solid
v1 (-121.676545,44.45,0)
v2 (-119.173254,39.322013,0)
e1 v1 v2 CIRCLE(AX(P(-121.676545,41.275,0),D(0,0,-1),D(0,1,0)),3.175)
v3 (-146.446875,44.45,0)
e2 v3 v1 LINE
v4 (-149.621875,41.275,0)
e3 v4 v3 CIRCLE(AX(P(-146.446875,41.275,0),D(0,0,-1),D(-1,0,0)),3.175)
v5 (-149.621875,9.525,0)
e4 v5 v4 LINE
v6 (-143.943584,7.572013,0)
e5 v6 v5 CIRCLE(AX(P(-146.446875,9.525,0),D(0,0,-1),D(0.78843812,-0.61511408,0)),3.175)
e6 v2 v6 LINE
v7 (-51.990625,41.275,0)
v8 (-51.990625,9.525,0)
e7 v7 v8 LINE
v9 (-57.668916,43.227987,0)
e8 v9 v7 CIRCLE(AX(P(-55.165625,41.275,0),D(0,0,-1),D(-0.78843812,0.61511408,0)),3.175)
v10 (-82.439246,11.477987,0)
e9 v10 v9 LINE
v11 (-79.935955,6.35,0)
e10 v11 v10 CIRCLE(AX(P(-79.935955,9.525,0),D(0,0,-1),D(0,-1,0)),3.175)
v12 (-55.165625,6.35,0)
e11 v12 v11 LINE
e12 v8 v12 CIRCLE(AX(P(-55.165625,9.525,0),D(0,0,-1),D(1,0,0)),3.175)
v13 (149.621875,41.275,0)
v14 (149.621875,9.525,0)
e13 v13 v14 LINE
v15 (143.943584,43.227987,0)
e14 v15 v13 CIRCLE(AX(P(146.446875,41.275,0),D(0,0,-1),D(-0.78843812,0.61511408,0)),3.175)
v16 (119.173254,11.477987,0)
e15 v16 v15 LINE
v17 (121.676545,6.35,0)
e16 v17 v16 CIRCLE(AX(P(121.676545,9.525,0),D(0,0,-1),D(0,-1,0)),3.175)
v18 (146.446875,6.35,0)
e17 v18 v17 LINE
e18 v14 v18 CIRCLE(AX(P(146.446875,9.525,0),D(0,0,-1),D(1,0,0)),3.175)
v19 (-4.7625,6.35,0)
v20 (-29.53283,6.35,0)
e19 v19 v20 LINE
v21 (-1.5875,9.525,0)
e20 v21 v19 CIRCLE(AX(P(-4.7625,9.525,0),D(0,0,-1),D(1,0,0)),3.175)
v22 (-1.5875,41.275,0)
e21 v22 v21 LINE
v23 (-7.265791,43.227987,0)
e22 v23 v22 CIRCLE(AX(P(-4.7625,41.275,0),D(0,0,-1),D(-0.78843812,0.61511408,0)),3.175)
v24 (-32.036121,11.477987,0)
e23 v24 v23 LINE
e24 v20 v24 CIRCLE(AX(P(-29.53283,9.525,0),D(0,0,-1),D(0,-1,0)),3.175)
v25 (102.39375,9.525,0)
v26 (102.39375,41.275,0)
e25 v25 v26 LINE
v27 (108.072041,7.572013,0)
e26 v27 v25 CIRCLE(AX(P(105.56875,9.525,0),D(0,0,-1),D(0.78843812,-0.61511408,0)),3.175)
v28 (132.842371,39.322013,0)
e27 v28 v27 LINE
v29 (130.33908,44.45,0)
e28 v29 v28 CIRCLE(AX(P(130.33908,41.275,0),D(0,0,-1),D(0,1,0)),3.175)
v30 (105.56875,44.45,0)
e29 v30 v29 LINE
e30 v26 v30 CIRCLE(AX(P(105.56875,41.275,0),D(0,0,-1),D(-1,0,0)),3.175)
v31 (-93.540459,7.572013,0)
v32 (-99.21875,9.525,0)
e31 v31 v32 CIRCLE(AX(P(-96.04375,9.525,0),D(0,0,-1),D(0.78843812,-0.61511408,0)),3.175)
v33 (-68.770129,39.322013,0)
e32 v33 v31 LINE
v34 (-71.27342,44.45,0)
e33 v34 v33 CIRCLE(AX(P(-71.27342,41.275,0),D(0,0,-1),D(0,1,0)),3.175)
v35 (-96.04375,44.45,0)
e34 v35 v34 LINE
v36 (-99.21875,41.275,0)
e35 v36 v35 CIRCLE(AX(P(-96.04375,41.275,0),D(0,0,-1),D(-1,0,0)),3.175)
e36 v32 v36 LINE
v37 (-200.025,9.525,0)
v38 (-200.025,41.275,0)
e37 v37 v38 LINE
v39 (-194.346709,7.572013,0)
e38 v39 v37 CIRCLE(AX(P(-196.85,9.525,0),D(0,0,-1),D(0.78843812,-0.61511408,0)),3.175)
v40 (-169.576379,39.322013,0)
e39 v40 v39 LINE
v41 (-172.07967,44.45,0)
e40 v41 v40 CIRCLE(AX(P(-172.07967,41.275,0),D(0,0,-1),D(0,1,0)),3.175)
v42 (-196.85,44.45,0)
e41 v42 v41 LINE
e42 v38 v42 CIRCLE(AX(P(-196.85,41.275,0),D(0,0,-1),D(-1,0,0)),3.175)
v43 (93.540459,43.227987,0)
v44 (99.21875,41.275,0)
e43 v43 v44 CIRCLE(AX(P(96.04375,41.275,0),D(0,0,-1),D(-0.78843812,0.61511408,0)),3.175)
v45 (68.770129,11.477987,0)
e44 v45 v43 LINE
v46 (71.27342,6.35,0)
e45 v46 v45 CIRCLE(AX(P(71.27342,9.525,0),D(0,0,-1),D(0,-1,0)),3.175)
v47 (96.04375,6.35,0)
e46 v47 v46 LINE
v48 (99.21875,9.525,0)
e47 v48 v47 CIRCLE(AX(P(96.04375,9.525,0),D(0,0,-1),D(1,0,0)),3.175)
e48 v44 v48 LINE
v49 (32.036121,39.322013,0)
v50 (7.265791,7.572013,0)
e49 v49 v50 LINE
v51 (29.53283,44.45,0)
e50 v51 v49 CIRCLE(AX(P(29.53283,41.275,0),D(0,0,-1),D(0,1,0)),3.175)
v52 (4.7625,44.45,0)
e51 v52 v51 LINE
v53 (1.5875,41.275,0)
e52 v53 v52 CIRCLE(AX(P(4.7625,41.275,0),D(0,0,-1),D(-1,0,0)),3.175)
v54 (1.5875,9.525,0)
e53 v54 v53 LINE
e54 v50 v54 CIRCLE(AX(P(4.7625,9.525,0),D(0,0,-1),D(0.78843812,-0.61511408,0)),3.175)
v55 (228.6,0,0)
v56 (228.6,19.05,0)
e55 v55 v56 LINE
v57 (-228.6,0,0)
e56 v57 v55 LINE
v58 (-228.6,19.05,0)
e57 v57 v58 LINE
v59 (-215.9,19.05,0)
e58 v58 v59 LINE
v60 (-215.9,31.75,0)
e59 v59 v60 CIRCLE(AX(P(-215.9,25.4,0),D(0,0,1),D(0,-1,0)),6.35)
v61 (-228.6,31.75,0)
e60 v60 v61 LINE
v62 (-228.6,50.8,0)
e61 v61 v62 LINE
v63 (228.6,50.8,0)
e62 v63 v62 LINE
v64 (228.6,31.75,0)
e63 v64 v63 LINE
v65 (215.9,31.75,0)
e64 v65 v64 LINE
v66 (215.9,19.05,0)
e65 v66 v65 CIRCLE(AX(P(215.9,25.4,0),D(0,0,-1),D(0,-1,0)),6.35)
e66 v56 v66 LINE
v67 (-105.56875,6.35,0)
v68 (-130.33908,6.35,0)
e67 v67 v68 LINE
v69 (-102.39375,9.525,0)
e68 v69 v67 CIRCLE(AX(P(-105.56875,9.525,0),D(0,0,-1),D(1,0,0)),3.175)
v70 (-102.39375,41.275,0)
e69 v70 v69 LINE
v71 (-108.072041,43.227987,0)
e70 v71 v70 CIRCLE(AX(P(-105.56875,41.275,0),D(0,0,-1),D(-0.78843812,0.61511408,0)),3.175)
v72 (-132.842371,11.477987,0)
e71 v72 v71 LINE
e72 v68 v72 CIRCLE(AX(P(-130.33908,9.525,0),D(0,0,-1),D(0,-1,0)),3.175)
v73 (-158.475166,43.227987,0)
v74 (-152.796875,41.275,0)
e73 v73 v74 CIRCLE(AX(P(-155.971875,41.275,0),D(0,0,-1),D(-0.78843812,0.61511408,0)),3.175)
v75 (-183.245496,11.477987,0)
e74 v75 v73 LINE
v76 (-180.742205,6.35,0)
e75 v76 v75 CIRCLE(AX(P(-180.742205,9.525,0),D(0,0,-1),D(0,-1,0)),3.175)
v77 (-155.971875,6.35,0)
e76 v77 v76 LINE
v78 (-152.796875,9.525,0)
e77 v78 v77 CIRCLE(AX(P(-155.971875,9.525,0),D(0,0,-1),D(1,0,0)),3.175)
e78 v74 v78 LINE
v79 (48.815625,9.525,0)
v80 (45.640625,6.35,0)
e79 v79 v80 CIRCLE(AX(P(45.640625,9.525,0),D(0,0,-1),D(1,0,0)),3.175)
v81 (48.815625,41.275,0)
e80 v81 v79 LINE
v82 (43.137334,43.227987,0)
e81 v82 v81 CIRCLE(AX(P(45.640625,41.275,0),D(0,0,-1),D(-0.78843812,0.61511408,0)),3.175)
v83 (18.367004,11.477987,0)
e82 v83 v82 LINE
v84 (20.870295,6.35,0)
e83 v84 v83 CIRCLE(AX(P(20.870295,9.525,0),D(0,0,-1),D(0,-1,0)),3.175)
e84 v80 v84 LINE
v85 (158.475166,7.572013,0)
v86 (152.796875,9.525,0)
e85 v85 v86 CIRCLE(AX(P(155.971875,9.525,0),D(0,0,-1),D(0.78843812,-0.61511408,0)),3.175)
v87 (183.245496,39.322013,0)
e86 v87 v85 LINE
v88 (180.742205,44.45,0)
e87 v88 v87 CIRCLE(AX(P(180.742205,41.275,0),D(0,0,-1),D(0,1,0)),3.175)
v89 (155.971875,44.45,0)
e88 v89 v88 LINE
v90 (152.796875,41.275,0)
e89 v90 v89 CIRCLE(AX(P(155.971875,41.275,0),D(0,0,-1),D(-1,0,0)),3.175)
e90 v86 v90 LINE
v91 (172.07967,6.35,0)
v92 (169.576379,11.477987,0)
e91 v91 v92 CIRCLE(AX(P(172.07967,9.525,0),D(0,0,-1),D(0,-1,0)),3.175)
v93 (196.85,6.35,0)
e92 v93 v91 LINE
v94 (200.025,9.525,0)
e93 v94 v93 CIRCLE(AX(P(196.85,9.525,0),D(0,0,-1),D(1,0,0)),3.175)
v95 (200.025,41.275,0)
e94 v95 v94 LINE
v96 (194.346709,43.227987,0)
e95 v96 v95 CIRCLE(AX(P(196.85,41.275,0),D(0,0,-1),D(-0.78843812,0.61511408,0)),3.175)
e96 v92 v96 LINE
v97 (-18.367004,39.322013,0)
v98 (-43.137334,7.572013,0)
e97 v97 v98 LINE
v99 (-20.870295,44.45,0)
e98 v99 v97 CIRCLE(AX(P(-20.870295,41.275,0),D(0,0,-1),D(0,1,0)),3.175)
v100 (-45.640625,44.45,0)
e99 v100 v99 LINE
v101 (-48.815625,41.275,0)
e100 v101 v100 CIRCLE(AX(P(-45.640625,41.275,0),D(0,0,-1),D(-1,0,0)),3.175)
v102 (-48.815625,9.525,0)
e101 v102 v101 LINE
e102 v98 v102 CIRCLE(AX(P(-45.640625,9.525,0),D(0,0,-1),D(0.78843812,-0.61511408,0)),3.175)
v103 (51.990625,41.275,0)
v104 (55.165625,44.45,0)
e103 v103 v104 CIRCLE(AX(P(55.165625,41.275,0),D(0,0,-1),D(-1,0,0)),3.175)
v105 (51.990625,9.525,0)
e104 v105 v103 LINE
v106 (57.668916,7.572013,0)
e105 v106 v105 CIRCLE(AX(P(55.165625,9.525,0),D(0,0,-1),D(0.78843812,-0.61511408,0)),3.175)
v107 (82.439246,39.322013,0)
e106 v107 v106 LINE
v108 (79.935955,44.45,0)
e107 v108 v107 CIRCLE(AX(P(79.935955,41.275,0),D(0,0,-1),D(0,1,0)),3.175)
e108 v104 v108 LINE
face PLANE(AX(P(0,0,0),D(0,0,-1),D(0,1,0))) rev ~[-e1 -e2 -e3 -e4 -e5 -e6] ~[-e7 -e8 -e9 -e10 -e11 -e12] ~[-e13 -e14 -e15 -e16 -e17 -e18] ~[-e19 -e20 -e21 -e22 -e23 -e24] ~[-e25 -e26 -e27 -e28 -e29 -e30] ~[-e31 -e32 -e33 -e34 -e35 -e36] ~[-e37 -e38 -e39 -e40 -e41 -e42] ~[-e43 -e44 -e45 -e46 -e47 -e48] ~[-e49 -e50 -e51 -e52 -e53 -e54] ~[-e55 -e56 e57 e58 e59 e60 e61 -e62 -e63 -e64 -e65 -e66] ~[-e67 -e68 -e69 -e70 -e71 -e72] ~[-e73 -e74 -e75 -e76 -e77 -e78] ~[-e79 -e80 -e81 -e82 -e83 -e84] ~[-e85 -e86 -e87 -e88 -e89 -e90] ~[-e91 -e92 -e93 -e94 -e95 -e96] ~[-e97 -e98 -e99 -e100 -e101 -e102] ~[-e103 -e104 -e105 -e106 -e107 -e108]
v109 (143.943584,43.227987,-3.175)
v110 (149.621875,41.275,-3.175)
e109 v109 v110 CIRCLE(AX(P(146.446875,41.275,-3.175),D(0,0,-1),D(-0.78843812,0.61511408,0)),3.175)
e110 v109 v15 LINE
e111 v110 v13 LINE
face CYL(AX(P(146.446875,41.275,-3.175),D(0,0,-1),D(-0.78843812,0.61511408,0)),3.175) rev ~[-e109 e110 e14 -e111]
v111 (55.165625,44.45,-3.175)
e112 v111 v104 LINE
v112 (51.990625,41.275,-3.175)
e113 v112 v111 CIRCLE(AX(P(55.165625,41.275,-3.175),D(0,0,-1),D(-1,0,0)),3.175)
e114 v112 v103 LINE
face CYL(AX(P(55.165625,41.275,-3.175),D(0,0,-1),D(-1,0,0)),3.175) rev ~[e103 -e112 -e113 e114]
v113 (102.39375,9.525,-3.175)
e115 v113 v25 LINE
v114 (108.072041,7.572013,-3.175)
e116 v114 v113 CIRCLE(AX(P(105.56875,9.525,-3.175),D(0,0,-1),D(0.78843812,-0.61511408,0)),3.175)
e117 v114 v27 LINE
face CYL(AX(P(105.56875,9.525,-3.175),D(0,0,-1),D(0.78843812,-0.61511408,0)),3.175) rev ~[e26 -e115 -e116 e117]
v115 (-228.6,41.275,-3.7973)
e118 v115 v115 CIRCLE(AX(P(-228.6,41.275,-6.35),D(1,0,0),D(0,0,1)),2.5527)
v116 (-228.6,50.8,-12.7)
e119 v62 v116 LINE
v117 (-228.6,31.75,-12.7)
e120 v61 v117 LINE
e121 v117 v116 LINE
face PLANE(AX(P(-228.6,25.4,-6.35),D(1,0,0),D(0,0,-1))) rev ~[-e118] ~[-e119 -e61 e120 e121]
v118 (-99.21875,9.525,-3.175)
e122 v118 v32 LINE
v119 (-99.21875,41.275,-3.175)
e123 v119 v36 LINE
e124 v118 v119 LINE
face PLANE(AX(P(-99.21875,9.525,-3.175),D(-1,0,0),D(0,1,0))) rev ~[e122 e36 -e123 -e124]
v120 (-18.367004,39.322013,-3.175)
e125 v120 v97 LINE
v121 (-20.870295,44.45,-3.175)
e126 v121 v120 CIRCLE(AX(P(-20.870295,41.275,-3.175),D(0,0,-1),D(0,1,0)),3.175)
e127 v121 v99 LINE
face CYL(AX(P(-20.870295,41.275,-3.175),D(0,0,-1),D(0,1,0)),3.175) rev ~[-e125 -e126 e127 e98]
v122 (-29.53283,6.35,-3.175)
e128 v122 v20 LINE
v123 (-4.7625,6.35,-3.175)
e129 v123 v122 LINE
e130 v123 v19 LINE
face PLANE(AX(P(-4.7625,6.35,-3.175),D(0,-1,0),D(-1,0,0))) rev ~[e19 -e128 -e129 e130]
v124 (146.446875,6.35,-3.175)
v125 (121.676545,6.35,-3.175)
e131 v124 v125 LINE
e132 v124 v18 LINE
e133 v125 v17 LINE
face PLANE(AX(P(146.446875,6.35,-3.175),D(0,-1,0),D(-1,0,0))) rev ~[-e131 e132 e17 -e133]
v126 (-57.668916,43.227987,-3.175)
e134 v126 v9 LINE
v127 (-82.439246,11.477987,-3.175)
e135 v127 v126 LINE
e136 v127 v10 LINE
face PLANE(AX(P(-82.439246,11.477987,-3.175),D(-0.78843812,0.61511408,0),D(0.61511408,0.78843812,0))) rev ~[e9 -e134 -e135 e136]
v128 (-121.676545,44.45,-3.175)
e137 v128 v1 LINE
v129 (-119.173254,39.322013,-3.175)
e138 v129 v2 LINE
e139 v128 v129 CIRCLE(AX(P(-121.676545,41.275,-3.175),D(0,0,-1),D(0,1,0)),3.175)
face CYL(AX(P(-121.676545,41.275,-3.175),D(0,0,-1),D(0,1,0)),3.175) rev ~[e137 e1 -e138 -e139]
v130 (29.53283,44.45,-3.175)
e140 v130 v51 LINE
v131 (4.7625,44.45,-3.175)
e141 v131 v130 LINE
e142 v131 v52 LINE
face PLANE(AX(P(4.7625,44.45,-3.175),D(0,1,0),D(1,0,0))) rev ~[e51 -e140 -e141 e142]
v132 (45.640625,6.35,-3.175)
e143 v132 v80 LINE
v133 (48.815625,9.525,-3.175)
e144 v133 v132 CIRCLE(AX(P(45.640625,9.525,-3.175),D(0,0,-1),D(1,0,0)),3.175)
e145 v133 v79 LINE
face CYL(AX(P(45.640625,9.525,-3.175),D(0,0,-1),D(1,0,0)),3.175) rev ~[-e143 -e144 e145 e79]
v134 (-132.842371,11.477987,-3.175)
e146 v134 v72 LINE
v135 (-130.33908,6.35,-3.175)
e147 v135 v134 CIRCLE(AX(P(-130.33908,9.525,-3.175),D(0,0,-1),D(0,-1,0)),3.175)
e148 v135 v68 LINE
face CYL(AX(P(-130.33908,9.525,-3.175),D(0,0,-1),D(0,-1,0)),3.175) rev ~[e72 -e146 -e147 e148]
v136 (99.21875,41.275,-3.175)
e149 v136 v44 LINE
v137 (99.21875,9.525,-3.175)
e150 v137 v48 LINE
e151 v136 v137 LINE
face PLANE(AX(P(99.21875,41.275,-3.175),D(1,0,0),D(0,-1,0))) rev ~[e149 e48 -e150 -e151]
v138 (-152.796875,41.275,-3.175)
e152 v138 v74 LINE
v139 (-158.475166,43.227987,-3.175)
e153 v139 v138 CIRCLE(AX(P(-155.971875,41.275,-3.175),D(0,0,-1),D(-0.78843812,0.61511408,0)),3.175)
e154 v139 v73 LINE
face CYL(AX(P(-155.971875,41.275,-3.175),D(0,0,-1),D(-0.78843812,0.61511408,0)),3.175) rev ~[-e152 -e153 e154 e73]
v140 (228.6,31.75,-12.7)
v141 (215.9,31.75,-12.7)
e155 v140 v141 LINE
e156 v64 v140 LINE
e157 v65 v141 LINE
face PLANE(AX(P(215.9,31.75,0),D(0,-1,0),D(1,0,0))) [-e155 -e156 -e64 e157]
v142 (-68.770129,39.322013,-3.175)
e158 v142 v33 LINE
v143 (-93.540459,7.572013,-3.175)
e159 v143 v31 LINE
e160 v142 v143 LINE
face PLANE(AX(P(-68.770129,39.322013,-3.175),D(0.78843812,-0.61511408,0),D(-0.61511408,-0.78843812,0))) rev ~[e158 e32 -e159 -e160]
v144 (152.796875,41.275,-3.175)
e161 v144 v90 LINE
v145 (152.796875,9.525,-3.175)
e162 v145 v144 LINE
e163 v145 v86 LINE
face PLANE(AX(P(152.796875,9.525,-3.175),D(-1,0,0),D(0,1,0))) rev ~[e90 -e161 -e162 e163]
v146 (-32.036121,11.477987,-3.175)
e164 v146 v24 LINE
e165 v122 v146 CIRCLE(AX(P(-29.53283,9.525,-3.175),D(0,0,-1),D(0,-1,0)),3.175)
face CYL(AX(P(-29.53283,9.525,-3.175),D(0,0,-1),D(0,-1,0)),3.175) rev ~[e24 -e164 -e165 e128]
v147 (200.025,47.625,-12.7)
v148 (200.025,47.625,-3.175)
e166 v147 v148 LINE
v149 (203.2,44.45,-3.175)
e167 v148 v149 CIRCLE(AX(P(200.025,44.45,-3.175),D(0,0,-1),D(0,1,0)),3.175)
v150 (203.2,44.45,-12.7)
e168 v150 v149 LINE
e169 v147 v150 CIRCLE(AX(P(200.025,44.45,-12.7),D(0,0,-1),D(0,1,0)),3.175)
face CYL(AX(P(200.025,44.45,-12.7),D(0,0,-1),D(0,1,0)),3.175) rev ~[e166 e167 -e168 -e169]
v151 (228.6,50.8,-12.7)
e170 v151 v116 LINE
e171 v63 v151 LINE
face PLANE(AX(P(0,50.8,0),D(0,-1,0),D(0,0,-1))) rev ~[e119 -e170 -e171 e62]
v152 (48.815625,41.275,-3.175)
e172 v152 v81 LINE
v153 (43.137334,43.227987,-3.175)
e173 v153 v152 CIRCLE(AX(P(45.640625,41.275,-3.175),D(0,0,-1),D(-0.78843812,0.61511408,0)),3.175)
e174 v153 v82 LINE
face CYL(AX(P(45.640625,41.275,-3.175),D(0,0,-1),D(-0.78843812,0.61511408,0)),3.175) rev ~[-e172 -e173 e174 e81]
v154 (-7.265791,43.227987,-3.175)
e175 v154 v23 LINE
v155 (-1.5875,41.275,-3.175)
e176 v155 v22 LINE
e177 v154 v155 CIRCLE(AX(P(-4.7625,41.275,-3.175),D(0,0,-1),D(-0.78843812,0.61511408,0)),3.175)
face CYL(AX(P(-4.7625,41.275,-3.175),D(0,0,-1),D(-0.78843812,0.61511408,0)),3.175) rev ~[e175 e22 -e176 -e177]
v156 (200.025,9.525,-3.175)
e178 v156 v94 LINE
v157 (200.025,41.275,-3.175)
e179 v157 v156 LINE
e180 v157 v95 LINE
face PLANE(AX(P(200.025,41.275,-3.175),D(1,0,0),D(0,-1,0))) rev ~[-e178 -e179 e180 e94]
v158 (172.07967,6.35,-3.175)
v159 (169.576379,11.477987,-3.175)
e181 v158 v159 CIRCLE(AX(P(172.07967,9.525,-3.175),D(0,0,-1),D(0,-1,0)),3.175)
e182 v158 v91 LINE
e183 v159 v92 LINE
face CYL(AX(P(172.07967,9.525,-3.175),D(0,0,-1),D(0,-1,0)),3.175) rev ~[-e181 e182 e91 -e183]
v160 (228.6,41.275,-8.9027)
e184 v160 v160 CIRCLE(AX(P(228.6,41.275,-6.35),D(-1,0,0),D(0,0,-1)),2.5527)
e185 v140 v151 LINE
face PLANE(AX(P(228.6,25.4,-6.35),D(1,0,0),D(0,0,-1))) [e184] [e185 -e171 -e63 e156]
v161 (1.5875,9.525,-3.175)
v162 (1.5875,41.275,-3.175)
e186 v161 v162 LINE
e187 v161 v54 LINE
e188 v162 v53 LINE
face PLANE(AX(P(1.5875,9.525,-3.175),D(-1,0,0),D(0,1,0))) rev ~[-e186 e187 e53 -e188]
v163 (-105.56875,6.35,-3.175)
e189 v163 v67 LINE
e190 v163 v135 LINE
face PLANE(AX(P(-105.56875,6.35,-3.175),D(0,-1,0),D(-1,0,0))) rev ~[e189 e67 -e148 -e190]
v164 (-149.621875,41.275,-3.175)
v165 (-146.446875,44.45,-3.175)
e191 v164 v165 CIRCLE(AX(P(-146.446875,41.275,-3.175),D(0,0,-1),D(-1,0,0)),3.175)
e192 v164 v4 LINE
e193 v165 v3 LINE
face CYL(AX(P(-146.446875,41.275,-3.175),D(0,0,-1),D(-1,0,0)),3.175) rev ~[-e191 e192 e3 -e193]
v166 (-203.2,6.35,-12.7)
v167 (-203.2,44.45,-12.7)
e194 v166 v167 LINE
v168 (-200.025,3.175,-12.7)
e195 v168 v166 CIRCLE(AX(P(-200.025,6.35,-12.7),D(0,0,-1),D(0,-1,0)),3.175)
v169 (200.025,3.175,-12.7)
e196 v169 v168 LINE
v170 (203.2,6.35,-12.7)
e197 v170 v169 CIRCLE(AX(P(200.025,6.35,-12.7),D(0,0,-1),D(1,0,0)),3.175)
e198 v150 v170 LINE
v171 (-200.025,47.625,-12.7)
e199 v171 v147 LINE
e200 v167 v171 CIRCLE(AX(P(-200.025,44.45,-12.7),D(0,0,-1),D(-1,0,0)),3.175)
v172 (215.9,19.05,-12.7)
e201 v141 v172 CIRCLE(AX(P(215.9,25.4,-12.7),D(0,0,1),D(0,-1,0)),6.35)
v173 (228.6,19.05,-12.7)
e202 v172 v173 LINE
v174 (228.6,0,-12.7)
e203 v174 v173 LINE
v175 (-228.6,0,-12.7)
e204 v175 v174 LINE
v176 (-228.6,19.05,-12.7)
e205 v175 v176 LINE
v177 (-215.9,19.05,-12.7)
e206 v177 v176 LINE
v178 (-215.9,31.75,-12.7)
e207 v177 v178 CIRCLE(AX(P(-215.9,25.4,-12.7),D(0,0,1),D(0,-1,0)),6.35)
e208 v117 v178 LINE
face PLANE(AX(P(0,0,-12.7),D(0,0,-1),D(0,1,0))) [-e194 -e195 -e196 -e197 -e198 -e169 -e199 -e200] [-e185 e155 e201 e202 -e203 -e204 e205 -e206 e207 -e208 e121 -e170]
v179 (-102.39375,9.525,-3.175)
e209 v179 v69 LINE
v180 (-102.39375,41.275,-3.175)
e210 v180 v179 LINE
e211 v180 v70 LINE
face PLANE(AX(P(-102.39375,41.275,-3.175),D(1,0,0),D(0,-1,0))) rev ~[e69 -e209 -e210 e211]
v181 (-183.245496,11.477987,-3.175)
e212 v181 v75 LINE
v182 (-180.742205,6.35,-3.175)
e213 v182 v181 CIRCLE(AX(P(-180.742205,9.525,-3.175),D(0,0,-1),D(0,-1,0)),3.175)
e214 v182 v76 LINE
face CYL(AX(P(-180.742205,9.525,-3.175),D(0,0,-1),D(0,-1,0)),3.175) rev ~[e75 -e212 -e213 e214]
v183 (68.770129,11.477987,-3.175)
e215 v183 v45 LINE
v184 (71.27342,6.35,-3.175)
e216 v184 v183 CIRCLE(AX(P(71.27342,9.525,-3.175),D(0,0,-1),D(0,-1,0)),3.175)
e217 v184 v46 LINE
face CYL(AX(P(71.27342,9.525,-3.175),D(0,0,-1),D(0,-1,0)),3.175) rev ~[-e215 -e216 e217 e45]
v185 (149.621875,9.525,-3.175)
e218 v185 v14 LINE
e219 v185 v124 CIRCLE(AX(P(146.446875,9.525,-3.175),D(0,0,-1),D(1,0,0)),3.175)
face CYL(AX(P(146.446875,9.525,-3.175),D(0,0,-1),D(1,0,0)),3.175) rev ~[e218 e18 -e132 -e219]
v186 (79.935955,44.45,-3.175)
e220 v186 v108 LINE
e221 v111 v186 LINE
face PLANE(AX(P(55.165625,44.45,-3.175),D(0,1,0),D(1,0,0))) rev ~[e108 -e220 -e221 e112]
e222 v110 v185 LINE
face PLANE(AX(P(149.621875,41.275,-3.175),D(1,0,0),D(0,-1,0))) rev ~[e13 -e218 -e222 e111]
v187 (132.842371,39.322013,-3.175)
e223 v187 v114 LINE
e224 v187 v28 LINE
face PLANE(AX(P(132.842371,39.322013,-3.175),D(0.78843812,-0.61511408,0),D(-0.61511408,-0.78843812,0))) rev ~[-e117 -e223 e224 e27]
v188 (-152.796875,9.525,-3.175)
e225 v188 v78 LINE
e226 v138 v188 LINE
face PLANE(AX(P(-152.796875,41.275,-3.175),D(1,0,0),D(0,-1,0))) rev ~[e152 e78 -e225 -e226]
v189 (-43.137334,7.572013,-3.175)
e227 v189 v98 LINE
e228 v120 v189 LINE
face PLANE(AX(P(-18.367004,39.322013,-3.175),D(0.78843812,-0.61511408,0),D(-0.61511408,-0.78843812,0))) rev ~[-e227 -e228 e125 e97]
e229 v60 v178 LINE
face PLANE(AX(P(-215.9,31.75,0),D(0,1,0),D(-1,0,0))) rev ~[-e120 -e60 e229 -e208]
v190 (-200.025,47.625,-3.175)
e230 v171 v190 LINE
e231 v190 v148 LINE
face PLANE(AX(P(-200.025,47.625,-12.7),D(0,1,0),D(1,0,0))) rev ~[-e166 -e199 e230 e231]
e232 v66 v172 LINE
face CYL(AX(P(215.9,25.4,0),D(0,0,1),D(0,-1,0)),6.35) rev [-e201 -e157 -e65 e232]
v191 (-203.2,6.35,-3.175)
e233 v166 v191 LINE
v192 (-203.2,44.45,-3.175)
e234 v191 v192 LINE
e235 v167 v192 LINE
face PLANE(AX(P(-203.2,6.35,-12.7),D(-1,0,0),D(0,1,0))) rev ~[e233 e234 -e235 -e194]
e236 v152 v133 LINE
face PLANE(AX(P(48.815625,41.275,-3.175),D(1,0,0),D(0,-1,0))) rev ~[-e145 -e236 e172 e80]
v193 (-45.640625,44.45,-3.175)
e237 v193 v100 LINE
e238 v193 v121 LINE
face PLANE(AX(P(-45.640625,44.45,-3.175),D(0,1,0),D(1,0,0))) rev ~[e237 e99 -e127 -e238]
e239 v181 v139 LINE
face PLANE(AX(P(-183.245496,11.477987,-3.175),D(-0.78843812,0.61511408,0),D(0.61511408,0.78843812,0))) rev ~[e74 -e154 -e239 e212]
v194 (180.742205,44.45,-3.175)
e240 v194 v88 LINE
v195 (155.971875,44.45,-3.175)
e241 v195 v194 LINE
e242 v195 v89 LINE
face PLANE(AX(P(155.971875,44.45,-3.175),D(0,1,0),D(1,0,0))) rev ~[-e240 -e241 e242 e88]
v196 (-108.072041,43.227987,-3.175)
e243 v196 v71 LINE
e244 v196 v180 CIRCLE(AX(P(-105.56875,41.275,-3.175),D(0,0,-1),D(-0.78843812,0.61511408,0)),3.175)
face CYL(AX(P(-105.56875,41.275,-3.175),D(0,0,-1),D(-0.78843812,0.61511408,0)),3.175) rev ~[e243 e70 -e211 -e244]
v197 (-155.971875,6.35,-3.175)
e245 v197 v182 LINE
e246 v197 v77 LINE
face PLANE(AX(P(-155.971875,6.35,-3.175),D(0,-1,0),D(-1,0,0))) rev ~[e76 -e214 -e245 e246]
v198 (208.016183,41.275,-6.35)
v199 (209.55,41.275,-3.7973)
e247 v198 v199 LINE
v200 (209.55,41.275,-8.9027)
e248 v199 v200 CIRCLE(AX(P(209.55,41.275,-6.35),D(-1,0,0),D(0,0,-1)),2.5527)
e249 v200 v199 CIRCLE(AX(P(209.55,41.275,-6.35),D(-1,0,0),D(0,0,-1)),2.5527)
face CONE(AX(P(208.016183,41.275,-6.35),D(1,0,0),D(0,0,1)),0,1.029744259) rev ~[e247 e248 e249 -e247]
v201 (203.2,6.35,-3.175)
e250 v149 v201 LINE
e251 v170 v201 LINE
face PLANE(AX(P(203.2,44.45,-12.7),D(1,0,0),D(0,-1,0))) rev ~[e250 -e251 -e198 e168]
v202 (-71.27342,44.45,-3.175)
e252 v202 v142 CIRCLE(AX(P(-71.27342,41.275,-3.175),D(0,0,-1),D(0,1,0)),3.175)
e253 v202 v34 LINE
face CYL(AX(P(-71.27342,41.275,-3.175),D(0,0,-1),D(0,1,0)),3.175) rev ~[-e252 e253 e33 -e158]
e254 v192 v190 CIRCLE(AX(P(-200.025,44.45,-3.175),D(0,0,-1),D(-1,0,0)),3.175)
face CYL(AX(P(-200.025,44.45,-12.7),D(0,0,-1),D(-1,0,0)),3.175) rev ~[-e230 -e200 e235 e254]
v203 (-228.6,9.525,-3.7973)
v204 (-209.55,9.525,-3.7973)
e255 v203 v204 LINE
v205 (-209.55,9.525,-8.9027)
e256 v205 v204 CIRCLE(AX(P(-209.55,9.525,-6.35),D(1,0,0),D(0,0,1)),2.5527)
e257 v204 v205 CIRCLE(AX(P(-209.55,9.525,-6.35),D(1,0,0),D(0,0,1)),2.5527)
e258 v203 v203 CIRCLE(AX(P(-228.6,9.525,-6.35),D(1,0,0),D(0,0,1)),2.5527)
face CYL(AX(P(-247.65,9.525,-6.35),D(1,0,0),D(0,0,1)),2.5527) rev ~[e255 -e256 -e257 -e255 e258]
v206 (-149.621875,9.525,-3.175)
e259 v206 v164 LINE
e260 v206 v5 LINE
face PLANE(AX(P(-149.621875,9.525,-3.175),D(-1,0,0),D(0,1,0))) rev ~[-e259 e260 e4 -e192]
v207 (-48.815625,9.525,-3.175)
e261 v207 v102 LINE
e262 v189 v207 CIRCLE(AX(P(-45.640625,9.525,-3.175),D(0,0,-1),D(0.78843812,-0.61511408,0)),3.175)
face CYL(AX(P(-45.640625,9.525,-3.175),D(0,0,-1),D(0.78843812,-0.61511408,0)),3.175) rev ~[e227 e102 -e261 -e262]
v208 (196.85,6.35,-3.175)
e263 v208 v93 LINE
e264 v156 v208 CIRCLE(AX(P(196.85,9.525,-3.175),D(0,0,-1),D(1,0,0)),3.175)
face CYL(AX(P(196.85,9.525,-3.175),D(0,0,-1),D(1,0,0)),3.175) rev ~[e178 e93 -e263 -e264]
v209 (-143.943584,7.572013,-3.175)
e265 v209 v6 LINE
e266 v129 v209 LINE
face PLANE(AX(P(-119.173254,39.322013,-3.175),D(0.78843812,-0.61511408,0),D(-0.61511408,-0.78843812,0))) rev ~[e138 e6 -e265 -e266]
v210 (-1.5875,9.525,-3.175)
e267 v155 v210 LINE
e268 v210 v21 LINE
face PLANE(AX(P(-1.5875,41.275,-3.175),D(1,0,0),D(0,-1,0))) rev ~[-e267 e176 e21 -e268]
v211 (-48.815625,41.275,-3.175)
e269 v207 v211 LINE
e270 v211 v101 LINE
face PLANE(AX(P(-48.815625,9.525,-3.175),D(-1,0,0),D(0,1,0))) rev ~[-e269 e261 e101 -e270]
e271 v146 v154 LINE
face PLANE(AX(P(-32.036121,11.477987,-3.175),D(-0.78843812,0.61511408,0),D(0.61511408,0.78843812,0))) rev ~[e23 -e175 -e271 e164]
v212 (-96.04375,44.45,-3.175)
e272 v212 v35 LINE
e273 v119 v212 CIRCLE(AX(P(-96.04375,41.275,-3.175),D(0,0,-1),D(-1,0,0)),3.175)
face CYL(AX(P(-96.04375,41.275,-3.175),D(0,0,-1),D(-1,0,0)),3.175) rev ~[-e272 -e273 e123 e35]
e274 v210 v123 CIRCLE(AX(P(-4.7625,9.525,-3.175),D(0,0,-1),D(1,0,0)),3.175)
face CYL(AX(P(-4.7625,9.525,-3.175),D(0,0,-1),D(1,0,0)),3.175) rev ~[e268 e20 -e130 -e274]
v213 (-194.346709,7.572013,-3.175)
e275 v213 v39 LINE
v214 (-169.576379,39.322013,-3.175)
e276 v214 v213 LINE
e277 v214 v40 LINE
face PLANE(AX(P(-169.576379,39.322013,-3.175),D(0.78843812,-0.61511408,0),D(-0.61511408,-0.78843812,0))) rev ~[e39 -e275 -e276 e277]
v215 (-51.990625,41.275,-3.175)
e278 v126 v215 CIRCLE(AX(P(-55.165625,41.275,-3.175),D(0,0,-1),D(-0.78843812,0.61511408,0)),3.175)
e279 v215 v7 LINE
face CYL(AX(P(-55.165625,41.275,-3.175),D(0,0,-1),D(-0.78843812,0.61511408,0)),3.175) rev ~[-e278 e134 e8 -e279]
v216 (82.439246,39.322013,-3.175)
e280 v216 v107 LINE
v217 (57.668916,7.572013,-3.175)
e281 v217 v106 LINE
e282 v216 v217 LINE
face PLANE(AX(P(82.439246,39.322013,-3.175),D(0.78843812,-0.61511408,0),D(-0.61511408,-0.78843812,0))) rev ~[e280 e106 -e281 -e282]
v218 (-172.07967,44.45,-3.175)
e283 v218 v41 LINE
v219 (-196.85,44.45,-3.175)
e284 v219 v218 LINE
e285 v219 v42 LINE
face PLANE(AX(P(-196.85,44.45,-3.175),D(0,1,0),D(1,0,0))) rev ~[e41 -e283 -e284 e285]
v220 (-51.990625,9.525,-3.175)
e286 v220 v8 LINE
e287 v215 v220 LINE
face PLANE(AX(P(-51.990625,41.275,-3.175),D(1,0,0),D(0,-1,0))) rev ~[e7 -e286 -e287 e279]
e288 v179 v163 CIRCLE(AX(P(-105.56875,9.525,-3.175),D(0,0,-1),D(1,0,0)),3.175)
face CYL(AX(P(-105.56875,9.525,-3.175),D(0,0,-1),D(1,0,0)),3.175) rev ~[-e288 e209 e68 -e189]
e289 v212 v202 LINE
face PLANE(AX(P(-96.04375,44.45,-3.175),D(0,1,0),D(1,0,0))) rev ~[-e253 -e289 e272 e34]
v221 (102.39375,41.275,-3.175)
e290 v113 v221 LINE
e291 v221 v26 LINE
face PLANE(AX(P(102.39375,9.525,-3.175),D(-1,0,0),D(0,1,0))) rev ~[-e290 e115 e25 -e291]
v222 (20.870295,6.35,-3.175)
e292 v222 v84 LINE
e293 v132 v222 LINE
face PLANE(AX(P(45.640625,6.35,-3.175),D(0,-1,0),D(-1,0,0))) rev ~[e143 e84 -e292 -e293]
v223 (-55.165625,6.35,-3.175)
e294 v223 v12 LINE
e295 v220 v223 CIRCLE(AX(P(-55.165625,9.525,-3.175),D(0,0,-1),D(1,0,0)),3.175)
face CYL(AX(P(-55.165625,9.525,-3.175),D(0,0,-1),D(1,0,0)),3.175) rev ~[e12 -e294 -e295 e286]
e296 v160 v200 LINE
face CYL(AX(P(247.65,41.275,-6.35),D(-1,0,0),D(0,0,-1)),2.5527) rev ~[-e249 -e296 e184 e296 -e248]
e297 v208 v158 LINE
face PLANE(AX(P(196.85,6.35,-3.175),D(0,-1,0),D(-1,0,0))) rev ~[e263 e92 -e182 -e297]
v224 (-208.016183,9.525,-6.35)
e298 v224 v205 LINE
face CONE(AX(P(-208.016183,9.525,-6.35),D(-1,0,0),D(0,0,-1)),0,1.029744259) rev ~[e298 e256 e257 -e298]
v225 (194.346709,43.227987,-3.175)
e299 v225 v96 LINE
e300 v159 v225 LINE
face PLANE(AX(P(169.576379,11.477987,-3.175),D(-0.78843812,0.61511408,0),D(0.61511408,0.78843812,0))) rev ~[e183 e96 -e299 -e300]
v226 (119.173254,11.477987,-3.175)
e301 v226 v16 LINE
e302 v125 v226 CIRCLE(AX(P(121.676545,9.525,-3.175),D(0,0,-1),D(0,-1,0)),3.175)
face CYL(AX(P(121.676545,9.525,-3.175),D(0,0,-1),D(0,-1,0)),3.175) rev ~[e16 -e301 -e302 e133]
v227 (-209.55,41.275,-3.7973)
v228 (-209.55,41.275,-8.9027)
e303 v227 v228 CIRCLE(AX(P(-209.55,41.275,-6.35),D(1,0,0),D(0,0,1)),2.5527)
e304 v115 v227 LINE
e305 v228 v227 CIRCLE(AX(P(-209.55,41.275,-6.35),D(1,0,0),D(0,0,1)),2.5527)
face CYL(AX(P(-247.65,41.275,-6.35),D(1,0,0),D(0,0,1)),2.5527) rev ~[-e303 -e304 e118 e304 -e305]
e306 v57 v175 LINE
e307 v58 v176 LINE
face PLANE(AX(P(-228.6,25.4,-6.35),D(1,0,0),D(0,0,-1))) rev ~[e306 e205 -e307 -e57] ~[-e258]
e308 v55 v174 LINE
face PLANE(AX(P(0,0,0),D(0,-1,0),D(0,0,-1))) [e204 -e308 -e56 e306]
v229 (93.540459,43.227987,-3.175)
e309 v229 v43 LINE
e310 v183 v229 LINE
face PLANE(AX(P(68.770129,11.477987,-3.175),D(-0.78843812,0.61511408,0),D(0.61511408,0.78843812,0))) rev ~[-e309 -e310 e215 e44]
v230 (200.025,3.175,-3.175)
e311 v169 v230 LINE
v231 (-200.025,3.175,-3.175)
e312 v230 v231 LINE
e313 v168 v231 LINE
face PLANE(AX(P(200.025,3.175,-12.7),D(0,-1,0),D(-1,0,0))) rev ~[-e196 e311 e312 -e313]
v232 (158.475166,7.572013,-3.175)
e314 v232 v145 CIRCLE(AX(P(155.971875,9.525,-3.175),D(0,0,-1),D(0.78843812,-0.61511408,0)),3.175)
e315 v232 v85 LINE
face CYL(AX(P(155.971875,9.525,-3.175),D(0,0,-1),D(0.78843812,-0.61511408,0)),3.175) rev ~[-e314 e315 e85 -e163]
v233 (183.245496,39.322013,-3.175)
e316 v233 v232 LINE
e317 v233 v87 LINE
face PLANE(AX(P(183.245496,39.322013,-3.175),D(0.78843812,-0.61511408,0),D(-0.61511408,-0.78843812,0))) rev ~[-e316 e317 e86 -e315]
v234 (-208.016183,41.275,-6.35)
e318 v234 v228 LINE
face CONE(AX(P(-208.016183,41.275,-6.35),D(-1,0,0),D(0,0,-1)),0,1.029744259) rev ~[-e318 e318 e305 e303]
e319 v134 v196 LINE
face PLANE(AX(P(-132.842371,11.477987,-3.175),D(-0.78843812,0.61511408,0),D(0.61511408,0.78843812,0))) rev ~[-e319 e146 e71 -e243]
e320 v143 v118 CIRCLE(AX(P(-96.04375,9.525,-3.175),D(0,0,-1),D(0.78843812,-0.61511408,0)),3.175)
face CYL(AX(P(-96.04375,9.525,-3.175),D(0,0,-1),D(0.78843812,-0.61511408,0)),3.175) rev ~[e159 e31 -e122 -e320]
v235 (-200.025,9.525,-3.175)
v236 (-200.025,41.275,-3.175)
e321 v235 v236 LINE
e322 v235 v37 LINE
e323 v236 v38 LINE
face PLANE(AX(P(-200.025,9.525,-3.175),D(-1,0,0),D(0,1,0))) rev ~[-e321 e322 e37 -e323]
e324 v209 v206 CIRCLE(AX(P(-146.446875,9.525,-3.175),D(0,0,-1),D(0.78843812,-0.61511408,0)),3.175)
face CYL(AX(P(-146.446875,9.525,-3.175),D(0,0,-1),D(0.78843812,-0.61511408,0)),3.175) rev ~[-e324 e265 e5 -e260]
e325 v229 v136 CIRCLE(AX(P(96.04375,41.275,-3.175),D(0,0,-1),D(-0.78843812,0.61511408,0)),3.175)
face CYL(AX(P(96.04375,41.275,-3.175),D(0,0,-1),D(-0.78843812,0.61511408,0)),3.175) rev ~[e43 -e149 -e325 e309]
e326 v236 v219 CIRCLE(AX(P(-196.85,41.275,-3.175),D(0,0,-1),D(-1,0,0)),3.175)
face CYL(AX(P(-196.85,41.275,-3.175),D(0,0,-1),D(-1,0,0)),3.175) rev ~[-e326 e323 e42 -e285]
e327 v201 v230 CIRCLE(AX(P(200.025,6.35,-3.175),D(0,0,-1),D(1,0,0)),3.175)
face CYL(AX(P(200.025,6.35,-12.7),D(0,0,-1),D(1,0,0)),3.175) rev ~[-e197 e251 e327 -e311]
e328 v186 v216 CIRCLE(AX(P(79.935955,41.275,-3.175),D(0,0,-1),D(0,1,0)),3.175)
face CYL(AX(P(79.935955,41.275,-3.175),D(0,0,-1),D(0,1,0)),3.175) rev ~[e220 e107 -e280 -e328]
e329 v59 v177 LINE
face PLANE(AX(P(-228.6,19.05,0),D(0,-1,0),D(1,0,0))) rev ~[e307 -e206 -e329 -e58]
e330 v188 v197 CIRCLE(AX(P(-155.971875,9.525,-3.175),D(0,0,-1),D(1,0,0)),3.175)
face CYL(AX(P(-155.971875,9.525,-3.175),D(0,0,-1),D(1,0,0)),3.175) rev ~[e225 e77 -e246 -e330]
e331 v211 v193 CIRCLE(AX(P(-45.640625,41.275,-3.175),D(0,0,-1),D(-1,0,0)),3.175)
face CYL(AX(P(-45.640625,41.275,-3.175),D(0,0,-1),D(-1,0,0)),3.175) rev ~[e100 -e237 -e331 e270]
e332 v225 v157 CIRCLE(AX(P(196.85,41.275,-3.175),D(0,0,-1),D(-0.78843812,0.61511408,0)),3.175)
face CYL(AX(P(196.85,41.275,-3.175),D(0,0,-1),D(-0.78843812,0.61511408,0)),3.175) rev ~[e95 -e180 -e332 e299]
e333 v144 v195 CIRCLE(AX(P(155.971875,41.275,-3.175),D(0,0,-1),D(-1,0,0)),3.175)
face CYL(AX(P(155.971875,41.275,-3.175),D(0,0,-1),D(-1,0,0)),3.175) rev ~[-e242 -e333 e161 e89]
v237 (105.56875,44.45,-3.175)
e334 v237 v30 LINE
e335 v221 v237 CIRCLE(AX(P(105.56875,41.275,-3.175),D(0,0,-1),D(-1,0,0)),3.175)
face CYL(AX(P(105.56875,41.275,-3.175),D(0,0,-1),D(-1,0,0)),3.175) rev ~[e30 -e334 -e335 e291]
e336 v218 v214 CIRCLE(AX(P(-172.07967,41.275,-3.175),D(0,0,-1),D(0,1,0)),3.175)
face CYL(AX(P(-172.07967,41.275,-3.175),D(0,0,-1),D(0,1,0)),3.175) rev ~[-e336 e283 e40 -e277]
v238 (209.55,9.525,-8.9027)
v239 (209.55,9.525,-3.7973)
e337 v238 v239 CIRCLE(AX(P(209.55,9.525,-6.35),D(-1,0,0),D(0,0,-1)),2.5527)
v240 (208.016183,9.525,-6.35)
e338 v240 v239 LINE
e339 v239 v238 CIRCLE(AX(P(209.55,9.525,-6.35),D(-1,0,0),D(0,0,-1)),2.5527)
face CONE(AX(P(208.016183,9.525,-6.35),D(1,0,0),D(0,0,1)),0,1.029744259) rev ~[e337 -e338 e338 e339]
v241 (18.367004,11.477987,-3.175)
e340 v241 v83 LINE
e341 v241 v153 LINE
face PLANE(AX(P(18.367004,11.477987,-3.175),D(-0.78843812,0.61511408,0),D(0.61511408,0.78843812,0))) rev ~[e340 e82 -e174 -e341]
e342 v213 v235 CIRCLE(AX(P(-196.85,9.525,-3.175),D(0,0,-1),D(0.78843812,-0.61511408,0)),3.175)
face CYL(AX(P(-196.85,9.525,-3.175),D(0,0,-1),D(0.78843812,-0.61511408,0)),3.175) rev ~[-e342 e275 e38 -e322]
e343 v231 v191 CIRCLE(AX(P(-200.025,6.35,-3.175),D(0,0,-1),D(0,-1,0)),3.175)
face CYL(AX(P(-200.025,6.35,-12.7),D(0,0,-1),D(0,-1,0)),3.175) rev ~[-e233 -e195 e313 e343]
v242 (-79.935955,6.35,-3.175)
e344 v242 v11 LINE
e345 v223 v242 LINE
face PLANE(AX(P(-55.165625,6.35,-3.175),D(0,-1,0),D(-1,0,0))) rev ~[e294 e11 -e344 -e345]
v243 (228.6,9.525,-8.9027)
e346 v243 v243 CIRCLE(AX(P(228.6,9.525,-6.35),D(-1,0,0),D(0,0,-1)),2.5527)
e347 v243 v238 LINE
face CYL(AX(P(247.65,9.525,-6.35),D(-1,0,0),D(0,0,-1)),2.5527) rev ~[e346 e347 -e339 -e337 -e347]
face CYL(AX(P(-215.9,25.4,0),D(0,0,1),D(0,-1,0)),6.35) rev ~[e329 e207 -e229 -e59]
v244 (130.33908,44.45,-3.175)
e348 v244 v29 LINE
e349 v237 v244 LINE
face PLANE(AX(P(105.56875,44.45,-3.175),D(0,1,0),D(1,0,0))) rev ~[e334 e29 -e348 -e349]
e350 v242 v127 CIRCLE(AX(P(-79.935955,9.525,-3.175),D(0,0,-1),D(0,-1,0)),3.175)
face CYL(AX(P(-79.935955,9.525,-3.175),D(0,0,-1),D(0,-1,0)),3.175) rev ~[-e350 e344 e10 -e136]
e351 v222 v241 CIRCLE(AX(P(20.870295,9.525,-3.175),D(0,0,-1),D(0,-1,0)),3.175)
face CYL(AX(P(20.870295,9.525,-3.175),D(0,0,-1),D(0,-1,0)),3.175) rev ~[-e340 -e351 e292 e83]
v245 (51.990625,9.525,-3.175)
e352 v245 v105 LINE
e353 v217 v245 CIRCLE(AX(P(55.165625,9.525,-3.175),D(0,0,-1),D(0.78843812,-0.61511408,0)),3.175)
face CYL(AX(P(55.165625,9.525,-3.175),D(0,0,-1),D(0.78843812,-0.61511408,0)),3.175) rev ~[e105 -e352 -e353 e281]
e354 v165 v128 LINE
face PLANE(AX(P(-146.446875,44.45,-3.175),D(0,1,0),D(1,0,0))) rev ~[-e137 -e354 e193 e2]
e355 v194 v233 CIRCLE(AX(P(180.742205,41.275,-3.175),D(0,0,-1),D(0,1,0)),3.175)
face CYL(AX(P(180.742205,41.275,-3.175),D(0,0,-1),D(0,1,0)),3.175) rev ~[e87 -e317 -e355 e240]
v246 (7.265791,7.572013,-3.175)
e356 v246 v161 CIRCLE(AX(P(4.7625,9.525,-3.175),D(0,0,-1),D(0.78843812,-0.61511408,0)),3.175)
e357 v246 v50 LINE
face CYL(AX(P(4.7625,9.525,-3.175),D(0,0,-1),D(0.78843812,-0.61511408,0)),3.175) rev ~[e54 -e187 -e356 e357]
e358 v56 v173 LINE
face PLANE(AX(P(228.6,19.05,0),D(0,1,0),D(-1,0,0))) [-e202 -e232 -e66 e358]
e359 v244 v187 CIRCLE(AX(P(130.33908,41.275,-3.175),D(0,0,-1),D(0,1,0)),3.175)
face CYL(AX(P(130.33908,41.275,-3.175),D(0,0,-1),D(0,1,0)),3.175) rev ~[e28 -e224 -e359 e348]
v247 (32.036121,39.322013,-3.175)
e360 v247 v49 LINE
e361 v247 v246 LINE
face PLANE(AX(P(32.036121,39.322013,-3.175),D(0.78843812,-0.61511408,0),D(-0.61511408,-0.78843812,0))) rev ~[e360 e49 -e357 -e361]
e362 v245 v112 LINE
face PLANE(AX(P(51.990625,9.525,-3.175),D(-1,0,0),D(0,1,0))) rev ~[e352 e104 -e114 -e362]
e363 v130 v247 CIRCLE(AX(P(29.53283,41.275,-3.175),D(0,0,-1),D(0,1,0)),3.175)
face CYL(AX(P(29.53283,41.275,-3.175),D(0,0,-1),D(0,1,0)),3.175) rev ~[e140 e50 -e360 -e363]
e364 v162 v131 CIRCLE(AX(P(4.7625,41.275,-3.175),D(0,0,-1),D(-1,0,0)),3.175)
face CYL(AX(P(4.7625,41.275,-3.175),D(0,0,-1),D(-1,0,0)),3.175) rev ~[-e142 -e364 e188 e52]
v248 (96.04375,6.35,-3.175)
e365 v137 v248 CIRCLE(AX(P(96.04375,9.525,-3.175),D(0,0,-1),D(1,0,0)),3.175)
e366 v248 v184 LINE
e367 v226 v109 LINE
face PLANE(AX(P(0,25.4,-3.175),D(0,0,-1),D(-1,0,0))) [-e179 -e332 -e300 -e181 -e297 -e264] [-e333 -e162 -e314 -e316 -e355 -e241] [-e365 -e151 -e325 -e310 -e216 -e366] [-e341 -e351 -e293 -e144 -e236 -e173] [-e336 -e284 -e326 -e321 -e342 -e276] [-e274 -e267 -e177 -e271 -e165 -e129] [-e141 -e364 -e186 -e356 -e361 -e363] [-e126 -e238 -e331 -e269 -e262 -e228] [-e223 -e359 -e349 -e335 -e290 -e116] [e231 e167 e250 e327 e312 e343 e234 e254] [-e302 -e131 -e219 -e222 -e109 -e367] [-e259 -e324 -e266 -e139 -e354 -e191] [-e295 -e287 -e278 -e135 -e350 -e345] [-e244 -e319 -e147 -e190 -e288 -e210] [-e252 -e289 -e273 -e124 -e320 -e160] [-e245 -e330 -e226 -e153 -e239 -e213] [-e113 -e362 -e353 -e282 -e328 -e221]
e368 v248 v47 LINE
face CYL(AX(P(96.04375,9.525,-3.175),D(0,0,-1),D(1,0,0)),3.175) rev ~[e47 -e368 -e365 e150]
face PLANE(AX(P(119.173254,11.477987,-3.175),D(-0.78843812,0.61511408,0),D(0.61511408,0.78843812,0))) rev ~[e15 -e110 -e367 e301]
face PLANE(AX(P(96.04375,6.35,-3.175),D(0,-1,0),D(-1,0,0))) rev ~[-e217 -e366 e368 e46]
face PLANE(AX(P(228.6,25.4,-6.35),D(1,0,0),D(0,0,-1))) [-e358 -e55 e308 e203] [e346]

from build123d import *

# Parameters (mm, degrees)
SKETCH1_W                             = 12.7
SKETCH1_H                             = 50.8
BOSS_EXTRUDE1_DEPTH                   = 228.6
F_1_4_20_TAPPED_HOLE1_D               = 5.1054
F_1_4_20_TAPPED_HOLE1_DEPTH           = 19.05
F_1_4_20_TAPPED_HOLE1_TIP             = 1.533816902
F_1_4_20_TAPPED_HOLE1_ON_FACE_2_D     = 5.1054
F_1_4_20_TAPPED_HOLE1_ON_FACE_2_DEPTH = 19.05
F_1_4_20_TAPPED_HOLE1_ON_FACE_2_TIP   = 1.533816902
CUT_EXTRUDE1_DEPTH                    = 9.525
CUT_EXTRUDE2_DEPTH                    = 235.370061281
CUT_EXTRUDE3_DEPTH                    = 235.52055347


with BuildPart() as part:
    # Sketch1 → Boss-Extrude1 (new, symmetric)
    with BuildSketch(Plane(origin=(0, 0, 0), x_dir=(0, 0, -1), z_dir=(1, 0, 0))):
        with Locations((6.35, 25.4)):
            Rectangle(SKETCH1_W, SKETCH1_H)
    extrude(amount=BOSS_EXTRUDE1_DEPTH, both=True)

    # 1/4-20 Tapped Hole1
    with Locations(Plane(origin=(228.6, 41.275, -6.35), x_dir=(0, 0, 1), z_dir=(1, 0, 0))):
        with Locations((0, 0), (0, 31.75)):
            Hole(F_1_4_20_TAPPED_HOLE1_D / 2, depth=F_1_4_20_TAPPED_HOLE1_DEPTH)
            with Locations((0, 0, -(F_1_4_20_TAPPED_HOLE1_DEPTH + F_1_4_20_TAPPED_HOLE1_TIP / 2))):  # 118° drill point
                Cone(0, F_1_4_20_TAPPED_HOLE1_D / 2, F_1_4_20_TAPPED_HOLE1_TIP, mode=Mode.SUBTRACT)

    # 1/4-20 Tapped Hole1 on face 2
    with Locations(Plane(origin=(-228.6, 9.525, -6.35), x_dir=(0, 0, -1), z_dir=(-1, 0, 0))):
        with Locations((0, 0), (0, -31.75)):
            Hole(F_1_4_20_TAPPED_HOLE1_ON_FACE_2_D / 2, depth=F_1_4_20_TAPPED_HOLE1_ON_FACE_2_DEPTH)
            with Locations((0, 0, -(F_1_4_20_TAPPED_HOLE1_ON_FACE_2_DEPTH + F_1_4_20_TAPPED_HOLE1_ON_FACE_2_TIP / 2))):  # 118° drill point
                Cone(0, F_1_4_20_TAPPED_HOLE1_ON_FACE_2_D / 2, F_1_4_20_TAPPED_HOLE1_ON_FACE_2_TIP, mode=Mode.SUBTRACT)

    # Sketch4 → Cut-Extrude1 (cut)
    with BuildSketch(Plane(origin=(0, 0, -12.7), x_dir=(-1, 0, 0), z_dir=(0, 0, -1))):
        with BuildLine():
            Line((200.025, 47.625), (-200.025, 47.625))
            ThreePointArc((-200.025, 47.625), (-202.27006403, 46.69506403), (-203.2, 44.45))
            Line((-203.2, 44.45), (-203.2, 6.35))
            ThreePointArc((-203.2, 6.35), (-202.27006403, 4.10493597), (-200.025, 3.175))
            Line((-200.025, 3.175), (200.025, 3.175))
            ThreePointArc((200.025, 3.175), (202.27006403, 4.10493597), (203.2, 6.35))
            Line((203.2, 6.35), (203.2, 44.45))
            ThreePointArc((203.2, 44.45), (202.27006403, 46.69506403), (200.025, 47.625))
        make_face()
    extrude(amount=-CUT_EXTRUDE1_DEPTH, mode=Mode.SUBTRACT)

    # Sketch5 → Cut-Extrude2 (cut, through all)
    with BuildSketch(Plane(origin=(0, 0, -3.175), x_dir=(-1, 0, 0), z_dir=(0, 0, -1))):
        with BuildLine():
            Line((-200.025, 41.275), (-200.025, 9.525))
            ThreePointArc((-200.025, 9.525), (-199.09506403, 7.27993597), (-196.85, 6.35))
            Line((-196.85, 6.35), (-172.079670497, 6.35))
            ThreePointArc((-172.079670497, 6.35), (-169.226482862, 8.132180803), (-169.576379466, 11.477987203))
            Line((-169.576379466, 11.477987203), (-194.346708969, 43.227987203))
            ThreePointArc((-194.346708969, 43.227987203), (-197.882636426, 44.277380224), (-200.025, 41.275))
        make_face()
        with BuildLine():
            Line((-183.245495534, 39.322012797), (-158.475166031, 7.572012797))
            ThreePointArc((-158.475166031, 7.572012797), (-154.939238574, 6.522619776), (-152.796875, 9.525))
            Line((-152.796875, 9.525), (-152.796875, 41.275))
            ThreePointArc((-152.796875, 41.275), (-153.72681097, 43.52006403), (-155.971875, 44.45))
            Line((-155.971875, 44.45), (-180.742204503, 44.45))
            ThreePointArc((-180.742204503, 44.45), (-183.595392138, 42.667819197), (-183.245495534, 39.322012797))
        make_face()
        with BuildLine():
            Line((-149.621875, 41.275), (-149.621875, 9.525))
            ThreePointArc((-149.621875, 9.525), (-148.69193903, 7.27993597), (-146.446875, 6.35))
            Line((-146.446875, 6.35), (-121.676545497, 6.35))
            ThreePointArc((-121.676545497, 6.35), (-118.823357862, 8.132180803), (-119.173254466, 11.477987203))
            Line((-119.173254466, 11.477987203), (-143.943583969, 43.227987203))
            ThreePointArc((-143.943583969, 43.227987203), (-147.479511426, 44.277380224), (-149.621875, 41.275))
        make_face()
        with BuildLine():
            Line((-132.842370534, 39.322012797), (-108.072041031, 7.572012797))
            ThreePointArc((-108.072041031, 7.572012797), (-104.536113574, 6.522619776), (-102.39375, 9.525))
            Line((-102.39375, 9.525), (-102.39375, 41.275))
            ThreePointArc((-102.39375, 41.275), (-103.32368597, 43.52006403), (-105.56875, 44.45))
            Line((-105.56875, 44.45), (-130.339079503, 44.45))
            ThreePointArc((-130.339079503, 44.45), (-133.192267138, 42.667819197), (-132.842370534, 39.322012797))
        make_face()
        with BuildLine():
            Line((-99.21875, 41.275), (-99.21875, 9.525))
            ThreePointArc((-99.21875, 9.525), (-98.28881403, 7.27993597), (-96.04375, 6.35))
            Line((-96.04375, 6.35), (-71.273420497, 6.35))
            ThreePointArc((-71.273420497, 6.35), (-68.420232862, 8.132180803), (-68.770129466, 11.477987203))
            Line((-68.770129466, 11.477987203), (-93.540458969, 43.227987203))
            ThreePointArc((-93.540458969, 43.227987203), (-97.076386426, 44.277380224), (-99.21875, 41.275))
        make_face()
        with BuildLine():
            Line((-82.439245534, 39.322012797), (-57.668916031, 7.572012797))
            ThreePointArc((-57.668916031, 7.572012797), (-54.132988574, 6.522619776), (-51.990625, 9.525))
            Line((-51.990625, 9.525), (-51.990625, 41.275))
            ThreePointArc((-51.990625, 41.275), (-52.92056097, 43.52006403), (-55.165625, 44.45))
            Line((-55.165625, 44.45), (-79.935954503, 44.45))
            ThreePointArc((-79.935954503, 44.45), (-82.789142138, 42.667819197), (-82.439245534, 39.322012797))
        make_face()
        with BuildLine():
            Line((-48.815625, 41.275), (-48.815625, 9.525))
            ThreePointArc((-48.815625, 9.525), (-47.88568903, 7.27993597), (-45.640625, 6.35))
            Line((-45.640625, 6.35), (-20.870295497, 6.35))
            ThreePointArc((-20.870295497, 6.35), (-18.017107862, 8.132180803), (-18.367004466, 11.477987203))
            Line((-18.367004466, 11.477987203), (-43.137333969, 43.227987203))
            ThreePointArc((-43.137333969, 43.227987203), (-46.673261426, 44.277380224), (-48.815625, 41.275))
        make_face()
        with BuildLine():
            Line((-32.036120534, 39.322012797), (-7.265791031, 7.572012797))
            ThreePointArc((-7.265791031, 7.572012797), (-3.729863574, 6.522619776), (-1.5875, 9.525))
            Line((-1.5875, 9.525), (-1.5875, 41.275))
            ThreePointArc((-1.5875, 41.275), (-2.51743597, 43.52006403), (-4.7625, 44.45))
            Line((-4.7625, 44.45), (-29.532829503, 44.45))
            ThreePointArc((-29.532829503, 44.45), (-32.386017138, 42.667819197), (-32.036120534, 39.322012797))
        make_face()
        with BuildLine():
            Line((1.5875, 41.275), (1.5875, 9.525))
            ThreePointArc((1.5875, 9.525), (2.51743597, 7.27993597), (4.7625, 6.35))
            Line((4.7625, 6.35), (29.532829503, 6.35))
            ThreePointArc((29.532829503, 6.35), (32.386017138, 8.132180803), (32.036120534, 11.477987203))
            Line((32.036120534, 11.477987203), (7.265791031, 43.227987203))
            ThreePointArc((7.265791031, 43.227987203), (3.729863574, 44.277380224), (1.5875, 41.275))
        make_face()
        with BuildLine():
            Line((18.367004466, 39.322012797), (43.137333969, 7.572012797))
            ThreePointArc((43.137333969, 7.572012797), (46.673261426, 6.522619776), (48.815625, 9.525))
            Line((48.815625, 9.525), (48.815625, 41.275))
            ThreePointArc((48.815625, 41.275), (47.88568903, 43.52006403), (45.640625, 44.45))
            Line((45.640625, 44.45), (20.870295497, 44.45))
            ThreePointArc((20.870295497, 44.45), (18.017107862, 42.667819197), (18.367004466, 39.322012797))
        make_face()
        with BuildLine():
            Line((51.990625, 41.275), (51.990625, 9.525))
            ThreePointArc((51.990625, 9.525), (52.92056097, 7.27993597), (55.165625, 6.35))
            Line((55.165625, 6.35), (79.935954503, 6.35))
            ThreePointArc((79.935954503, 6.35), (82.789142138, 8.132180803), (82.439245534, 11.477987203))
            Line((82.439245534, 11.477987203), (57.668916031, 43.227987203))
            ThreePointArc((57.668916031, 43.227987203), (54.132988574, 44.277380224), (51.990625, 41.275))
        make_face()
        with BuildLine():
            Line((68.770129466, 39.322012797), (93.540458969, 7.572012797))
            ThreePointArc((93.540458969, 7.572012797), (97.076386426, 6.522619776), (99.21875, 9.525))
            Line((99.21875, 9.525), (99.21875, 41.275))
            ThreePointArc((99.21875, 41.275), (98.28881403, 43.52006403), (96.04375, 44.45))
            Line((96.04375, 44.45), (71.273420497, 44.45))
            ThreePointArc((71.273420497, 44.45), (68.420232862, 42.667819197), (68.770129466, 39.322012797))
        make_face()
        with BuildLine():
            Line((102.39375, 41.275), (102.39375, 9.525))
            ThreePointArc((102.39375, 9.525), (103.32368597, 7.27993597), (105.56875, 6.35))
            Line((105.56875, 6.35), (130.339079503, 6.35))
            ThreePointArc((130.339079503, 6.35), (133.192267138, 8.132180803), (132.842370534, 11.477987203))
            Line((132.842370534, 11.477987203), (108.072041031, 43.227987203))
            ThreePointArc((108.072041031, 43.227987203), (104.536113574, 44.277380224), (102.39375, 41.275))
        make_face()
        with BuildLine():
            Line((119.173254466, 39.322012797), (143.943583969, 7.572012797))
            ThreePointArc((143.943583969, 7.572012797), (147.479511426, 6.522619776), (149.621875, 9.525))
            Line((149.621875, 9.525), (149.621875, 41.275))
            ThreePointArc((149.621875, 41.275), (148.69193903, 43.52006403), (146.446875, 44.45))
            Line((146.446875, 44.45), (121.676545497, 44.45))
            ThreePointArc((121.676545497, 44.45), (118.823357862, 42.667819197), (119.173254466, 39.322012797))
        make_face()
        with BuildLine():
            Line((152.796875, 41.275), (152.796875, 9.525))
            ThreePointArc((152.796875, 9.525), (153.72681097, 7.27993597), (155.971875, 6.35))
            Line((155.971875, 6.35), (180.742204503, 6.35))
            ThreePointArc((180.742204503, 6.35), (183.595392138, 8.132180803), (183.245495534, 11.477987203))
            Line((183.245495534, 11.477987203), (158.475166031, 43.227987203))
            ThreePointArc((158.475166031, 43.227987203), (154.939238574, 44.277380224), (152.796875, 41.275))
        make_face()
        with BuildLine():
            Line((169.576379466, 39.322012797), (194.346708969, 7.572012797))
            ThreePointArc((194.346708969, 7.572012797), (197.882636426, 6.522619776), (200.025, 9.525))
            Line((200.025, 9.525), (200.025, 41.275))
            ThreePointArc((200.025, 41.275), (199.09506403, 43.52006403), (196.85, 44.45))
            Line((196.85, 44.45), (172.079670497, 44.45))
            ThreePointArc((172.079670497, 44.45), (169.226482862, 42.667819197), (169.576379466, 39.322012797))
        make_face()
    extrude(amount=-CUT_EXTRUDE2_DEPTH, mode=Mode.SUBTRACT)

    # Sketch6 → Cut-Extrude3 (cut, through all)
    with BuildSketch(Plane.XY):
        with BuildLine():
            Line((-215.9, 31.75), (-228.6, 31.75))
            Line((-228.6, 31.75), (-228.6, 19.05))
            Line((-228.6, 19.05), (-215.9, 19.05))
            ThreePointArc((-215.9, 19.05), (-209.55, 25.4), (-215.9, 31.75))
        make_face()
        with BuildLine():
            Line((228.6, 19.05), (215.9, 19.05))
            ThreePointArc((215.9, 19.05), (209.55, 25.4), (215.9, 31.75))
            Line((215.9, 31.75), (228.6, 31.75))
            Line((228.6, 31.75), (228.6, 19.05))
        make_face()
    extrude(amount=-CUT_EXTRUDE3_DEPTH, mode=Mode.SUBTRACT)


solid = part.part
